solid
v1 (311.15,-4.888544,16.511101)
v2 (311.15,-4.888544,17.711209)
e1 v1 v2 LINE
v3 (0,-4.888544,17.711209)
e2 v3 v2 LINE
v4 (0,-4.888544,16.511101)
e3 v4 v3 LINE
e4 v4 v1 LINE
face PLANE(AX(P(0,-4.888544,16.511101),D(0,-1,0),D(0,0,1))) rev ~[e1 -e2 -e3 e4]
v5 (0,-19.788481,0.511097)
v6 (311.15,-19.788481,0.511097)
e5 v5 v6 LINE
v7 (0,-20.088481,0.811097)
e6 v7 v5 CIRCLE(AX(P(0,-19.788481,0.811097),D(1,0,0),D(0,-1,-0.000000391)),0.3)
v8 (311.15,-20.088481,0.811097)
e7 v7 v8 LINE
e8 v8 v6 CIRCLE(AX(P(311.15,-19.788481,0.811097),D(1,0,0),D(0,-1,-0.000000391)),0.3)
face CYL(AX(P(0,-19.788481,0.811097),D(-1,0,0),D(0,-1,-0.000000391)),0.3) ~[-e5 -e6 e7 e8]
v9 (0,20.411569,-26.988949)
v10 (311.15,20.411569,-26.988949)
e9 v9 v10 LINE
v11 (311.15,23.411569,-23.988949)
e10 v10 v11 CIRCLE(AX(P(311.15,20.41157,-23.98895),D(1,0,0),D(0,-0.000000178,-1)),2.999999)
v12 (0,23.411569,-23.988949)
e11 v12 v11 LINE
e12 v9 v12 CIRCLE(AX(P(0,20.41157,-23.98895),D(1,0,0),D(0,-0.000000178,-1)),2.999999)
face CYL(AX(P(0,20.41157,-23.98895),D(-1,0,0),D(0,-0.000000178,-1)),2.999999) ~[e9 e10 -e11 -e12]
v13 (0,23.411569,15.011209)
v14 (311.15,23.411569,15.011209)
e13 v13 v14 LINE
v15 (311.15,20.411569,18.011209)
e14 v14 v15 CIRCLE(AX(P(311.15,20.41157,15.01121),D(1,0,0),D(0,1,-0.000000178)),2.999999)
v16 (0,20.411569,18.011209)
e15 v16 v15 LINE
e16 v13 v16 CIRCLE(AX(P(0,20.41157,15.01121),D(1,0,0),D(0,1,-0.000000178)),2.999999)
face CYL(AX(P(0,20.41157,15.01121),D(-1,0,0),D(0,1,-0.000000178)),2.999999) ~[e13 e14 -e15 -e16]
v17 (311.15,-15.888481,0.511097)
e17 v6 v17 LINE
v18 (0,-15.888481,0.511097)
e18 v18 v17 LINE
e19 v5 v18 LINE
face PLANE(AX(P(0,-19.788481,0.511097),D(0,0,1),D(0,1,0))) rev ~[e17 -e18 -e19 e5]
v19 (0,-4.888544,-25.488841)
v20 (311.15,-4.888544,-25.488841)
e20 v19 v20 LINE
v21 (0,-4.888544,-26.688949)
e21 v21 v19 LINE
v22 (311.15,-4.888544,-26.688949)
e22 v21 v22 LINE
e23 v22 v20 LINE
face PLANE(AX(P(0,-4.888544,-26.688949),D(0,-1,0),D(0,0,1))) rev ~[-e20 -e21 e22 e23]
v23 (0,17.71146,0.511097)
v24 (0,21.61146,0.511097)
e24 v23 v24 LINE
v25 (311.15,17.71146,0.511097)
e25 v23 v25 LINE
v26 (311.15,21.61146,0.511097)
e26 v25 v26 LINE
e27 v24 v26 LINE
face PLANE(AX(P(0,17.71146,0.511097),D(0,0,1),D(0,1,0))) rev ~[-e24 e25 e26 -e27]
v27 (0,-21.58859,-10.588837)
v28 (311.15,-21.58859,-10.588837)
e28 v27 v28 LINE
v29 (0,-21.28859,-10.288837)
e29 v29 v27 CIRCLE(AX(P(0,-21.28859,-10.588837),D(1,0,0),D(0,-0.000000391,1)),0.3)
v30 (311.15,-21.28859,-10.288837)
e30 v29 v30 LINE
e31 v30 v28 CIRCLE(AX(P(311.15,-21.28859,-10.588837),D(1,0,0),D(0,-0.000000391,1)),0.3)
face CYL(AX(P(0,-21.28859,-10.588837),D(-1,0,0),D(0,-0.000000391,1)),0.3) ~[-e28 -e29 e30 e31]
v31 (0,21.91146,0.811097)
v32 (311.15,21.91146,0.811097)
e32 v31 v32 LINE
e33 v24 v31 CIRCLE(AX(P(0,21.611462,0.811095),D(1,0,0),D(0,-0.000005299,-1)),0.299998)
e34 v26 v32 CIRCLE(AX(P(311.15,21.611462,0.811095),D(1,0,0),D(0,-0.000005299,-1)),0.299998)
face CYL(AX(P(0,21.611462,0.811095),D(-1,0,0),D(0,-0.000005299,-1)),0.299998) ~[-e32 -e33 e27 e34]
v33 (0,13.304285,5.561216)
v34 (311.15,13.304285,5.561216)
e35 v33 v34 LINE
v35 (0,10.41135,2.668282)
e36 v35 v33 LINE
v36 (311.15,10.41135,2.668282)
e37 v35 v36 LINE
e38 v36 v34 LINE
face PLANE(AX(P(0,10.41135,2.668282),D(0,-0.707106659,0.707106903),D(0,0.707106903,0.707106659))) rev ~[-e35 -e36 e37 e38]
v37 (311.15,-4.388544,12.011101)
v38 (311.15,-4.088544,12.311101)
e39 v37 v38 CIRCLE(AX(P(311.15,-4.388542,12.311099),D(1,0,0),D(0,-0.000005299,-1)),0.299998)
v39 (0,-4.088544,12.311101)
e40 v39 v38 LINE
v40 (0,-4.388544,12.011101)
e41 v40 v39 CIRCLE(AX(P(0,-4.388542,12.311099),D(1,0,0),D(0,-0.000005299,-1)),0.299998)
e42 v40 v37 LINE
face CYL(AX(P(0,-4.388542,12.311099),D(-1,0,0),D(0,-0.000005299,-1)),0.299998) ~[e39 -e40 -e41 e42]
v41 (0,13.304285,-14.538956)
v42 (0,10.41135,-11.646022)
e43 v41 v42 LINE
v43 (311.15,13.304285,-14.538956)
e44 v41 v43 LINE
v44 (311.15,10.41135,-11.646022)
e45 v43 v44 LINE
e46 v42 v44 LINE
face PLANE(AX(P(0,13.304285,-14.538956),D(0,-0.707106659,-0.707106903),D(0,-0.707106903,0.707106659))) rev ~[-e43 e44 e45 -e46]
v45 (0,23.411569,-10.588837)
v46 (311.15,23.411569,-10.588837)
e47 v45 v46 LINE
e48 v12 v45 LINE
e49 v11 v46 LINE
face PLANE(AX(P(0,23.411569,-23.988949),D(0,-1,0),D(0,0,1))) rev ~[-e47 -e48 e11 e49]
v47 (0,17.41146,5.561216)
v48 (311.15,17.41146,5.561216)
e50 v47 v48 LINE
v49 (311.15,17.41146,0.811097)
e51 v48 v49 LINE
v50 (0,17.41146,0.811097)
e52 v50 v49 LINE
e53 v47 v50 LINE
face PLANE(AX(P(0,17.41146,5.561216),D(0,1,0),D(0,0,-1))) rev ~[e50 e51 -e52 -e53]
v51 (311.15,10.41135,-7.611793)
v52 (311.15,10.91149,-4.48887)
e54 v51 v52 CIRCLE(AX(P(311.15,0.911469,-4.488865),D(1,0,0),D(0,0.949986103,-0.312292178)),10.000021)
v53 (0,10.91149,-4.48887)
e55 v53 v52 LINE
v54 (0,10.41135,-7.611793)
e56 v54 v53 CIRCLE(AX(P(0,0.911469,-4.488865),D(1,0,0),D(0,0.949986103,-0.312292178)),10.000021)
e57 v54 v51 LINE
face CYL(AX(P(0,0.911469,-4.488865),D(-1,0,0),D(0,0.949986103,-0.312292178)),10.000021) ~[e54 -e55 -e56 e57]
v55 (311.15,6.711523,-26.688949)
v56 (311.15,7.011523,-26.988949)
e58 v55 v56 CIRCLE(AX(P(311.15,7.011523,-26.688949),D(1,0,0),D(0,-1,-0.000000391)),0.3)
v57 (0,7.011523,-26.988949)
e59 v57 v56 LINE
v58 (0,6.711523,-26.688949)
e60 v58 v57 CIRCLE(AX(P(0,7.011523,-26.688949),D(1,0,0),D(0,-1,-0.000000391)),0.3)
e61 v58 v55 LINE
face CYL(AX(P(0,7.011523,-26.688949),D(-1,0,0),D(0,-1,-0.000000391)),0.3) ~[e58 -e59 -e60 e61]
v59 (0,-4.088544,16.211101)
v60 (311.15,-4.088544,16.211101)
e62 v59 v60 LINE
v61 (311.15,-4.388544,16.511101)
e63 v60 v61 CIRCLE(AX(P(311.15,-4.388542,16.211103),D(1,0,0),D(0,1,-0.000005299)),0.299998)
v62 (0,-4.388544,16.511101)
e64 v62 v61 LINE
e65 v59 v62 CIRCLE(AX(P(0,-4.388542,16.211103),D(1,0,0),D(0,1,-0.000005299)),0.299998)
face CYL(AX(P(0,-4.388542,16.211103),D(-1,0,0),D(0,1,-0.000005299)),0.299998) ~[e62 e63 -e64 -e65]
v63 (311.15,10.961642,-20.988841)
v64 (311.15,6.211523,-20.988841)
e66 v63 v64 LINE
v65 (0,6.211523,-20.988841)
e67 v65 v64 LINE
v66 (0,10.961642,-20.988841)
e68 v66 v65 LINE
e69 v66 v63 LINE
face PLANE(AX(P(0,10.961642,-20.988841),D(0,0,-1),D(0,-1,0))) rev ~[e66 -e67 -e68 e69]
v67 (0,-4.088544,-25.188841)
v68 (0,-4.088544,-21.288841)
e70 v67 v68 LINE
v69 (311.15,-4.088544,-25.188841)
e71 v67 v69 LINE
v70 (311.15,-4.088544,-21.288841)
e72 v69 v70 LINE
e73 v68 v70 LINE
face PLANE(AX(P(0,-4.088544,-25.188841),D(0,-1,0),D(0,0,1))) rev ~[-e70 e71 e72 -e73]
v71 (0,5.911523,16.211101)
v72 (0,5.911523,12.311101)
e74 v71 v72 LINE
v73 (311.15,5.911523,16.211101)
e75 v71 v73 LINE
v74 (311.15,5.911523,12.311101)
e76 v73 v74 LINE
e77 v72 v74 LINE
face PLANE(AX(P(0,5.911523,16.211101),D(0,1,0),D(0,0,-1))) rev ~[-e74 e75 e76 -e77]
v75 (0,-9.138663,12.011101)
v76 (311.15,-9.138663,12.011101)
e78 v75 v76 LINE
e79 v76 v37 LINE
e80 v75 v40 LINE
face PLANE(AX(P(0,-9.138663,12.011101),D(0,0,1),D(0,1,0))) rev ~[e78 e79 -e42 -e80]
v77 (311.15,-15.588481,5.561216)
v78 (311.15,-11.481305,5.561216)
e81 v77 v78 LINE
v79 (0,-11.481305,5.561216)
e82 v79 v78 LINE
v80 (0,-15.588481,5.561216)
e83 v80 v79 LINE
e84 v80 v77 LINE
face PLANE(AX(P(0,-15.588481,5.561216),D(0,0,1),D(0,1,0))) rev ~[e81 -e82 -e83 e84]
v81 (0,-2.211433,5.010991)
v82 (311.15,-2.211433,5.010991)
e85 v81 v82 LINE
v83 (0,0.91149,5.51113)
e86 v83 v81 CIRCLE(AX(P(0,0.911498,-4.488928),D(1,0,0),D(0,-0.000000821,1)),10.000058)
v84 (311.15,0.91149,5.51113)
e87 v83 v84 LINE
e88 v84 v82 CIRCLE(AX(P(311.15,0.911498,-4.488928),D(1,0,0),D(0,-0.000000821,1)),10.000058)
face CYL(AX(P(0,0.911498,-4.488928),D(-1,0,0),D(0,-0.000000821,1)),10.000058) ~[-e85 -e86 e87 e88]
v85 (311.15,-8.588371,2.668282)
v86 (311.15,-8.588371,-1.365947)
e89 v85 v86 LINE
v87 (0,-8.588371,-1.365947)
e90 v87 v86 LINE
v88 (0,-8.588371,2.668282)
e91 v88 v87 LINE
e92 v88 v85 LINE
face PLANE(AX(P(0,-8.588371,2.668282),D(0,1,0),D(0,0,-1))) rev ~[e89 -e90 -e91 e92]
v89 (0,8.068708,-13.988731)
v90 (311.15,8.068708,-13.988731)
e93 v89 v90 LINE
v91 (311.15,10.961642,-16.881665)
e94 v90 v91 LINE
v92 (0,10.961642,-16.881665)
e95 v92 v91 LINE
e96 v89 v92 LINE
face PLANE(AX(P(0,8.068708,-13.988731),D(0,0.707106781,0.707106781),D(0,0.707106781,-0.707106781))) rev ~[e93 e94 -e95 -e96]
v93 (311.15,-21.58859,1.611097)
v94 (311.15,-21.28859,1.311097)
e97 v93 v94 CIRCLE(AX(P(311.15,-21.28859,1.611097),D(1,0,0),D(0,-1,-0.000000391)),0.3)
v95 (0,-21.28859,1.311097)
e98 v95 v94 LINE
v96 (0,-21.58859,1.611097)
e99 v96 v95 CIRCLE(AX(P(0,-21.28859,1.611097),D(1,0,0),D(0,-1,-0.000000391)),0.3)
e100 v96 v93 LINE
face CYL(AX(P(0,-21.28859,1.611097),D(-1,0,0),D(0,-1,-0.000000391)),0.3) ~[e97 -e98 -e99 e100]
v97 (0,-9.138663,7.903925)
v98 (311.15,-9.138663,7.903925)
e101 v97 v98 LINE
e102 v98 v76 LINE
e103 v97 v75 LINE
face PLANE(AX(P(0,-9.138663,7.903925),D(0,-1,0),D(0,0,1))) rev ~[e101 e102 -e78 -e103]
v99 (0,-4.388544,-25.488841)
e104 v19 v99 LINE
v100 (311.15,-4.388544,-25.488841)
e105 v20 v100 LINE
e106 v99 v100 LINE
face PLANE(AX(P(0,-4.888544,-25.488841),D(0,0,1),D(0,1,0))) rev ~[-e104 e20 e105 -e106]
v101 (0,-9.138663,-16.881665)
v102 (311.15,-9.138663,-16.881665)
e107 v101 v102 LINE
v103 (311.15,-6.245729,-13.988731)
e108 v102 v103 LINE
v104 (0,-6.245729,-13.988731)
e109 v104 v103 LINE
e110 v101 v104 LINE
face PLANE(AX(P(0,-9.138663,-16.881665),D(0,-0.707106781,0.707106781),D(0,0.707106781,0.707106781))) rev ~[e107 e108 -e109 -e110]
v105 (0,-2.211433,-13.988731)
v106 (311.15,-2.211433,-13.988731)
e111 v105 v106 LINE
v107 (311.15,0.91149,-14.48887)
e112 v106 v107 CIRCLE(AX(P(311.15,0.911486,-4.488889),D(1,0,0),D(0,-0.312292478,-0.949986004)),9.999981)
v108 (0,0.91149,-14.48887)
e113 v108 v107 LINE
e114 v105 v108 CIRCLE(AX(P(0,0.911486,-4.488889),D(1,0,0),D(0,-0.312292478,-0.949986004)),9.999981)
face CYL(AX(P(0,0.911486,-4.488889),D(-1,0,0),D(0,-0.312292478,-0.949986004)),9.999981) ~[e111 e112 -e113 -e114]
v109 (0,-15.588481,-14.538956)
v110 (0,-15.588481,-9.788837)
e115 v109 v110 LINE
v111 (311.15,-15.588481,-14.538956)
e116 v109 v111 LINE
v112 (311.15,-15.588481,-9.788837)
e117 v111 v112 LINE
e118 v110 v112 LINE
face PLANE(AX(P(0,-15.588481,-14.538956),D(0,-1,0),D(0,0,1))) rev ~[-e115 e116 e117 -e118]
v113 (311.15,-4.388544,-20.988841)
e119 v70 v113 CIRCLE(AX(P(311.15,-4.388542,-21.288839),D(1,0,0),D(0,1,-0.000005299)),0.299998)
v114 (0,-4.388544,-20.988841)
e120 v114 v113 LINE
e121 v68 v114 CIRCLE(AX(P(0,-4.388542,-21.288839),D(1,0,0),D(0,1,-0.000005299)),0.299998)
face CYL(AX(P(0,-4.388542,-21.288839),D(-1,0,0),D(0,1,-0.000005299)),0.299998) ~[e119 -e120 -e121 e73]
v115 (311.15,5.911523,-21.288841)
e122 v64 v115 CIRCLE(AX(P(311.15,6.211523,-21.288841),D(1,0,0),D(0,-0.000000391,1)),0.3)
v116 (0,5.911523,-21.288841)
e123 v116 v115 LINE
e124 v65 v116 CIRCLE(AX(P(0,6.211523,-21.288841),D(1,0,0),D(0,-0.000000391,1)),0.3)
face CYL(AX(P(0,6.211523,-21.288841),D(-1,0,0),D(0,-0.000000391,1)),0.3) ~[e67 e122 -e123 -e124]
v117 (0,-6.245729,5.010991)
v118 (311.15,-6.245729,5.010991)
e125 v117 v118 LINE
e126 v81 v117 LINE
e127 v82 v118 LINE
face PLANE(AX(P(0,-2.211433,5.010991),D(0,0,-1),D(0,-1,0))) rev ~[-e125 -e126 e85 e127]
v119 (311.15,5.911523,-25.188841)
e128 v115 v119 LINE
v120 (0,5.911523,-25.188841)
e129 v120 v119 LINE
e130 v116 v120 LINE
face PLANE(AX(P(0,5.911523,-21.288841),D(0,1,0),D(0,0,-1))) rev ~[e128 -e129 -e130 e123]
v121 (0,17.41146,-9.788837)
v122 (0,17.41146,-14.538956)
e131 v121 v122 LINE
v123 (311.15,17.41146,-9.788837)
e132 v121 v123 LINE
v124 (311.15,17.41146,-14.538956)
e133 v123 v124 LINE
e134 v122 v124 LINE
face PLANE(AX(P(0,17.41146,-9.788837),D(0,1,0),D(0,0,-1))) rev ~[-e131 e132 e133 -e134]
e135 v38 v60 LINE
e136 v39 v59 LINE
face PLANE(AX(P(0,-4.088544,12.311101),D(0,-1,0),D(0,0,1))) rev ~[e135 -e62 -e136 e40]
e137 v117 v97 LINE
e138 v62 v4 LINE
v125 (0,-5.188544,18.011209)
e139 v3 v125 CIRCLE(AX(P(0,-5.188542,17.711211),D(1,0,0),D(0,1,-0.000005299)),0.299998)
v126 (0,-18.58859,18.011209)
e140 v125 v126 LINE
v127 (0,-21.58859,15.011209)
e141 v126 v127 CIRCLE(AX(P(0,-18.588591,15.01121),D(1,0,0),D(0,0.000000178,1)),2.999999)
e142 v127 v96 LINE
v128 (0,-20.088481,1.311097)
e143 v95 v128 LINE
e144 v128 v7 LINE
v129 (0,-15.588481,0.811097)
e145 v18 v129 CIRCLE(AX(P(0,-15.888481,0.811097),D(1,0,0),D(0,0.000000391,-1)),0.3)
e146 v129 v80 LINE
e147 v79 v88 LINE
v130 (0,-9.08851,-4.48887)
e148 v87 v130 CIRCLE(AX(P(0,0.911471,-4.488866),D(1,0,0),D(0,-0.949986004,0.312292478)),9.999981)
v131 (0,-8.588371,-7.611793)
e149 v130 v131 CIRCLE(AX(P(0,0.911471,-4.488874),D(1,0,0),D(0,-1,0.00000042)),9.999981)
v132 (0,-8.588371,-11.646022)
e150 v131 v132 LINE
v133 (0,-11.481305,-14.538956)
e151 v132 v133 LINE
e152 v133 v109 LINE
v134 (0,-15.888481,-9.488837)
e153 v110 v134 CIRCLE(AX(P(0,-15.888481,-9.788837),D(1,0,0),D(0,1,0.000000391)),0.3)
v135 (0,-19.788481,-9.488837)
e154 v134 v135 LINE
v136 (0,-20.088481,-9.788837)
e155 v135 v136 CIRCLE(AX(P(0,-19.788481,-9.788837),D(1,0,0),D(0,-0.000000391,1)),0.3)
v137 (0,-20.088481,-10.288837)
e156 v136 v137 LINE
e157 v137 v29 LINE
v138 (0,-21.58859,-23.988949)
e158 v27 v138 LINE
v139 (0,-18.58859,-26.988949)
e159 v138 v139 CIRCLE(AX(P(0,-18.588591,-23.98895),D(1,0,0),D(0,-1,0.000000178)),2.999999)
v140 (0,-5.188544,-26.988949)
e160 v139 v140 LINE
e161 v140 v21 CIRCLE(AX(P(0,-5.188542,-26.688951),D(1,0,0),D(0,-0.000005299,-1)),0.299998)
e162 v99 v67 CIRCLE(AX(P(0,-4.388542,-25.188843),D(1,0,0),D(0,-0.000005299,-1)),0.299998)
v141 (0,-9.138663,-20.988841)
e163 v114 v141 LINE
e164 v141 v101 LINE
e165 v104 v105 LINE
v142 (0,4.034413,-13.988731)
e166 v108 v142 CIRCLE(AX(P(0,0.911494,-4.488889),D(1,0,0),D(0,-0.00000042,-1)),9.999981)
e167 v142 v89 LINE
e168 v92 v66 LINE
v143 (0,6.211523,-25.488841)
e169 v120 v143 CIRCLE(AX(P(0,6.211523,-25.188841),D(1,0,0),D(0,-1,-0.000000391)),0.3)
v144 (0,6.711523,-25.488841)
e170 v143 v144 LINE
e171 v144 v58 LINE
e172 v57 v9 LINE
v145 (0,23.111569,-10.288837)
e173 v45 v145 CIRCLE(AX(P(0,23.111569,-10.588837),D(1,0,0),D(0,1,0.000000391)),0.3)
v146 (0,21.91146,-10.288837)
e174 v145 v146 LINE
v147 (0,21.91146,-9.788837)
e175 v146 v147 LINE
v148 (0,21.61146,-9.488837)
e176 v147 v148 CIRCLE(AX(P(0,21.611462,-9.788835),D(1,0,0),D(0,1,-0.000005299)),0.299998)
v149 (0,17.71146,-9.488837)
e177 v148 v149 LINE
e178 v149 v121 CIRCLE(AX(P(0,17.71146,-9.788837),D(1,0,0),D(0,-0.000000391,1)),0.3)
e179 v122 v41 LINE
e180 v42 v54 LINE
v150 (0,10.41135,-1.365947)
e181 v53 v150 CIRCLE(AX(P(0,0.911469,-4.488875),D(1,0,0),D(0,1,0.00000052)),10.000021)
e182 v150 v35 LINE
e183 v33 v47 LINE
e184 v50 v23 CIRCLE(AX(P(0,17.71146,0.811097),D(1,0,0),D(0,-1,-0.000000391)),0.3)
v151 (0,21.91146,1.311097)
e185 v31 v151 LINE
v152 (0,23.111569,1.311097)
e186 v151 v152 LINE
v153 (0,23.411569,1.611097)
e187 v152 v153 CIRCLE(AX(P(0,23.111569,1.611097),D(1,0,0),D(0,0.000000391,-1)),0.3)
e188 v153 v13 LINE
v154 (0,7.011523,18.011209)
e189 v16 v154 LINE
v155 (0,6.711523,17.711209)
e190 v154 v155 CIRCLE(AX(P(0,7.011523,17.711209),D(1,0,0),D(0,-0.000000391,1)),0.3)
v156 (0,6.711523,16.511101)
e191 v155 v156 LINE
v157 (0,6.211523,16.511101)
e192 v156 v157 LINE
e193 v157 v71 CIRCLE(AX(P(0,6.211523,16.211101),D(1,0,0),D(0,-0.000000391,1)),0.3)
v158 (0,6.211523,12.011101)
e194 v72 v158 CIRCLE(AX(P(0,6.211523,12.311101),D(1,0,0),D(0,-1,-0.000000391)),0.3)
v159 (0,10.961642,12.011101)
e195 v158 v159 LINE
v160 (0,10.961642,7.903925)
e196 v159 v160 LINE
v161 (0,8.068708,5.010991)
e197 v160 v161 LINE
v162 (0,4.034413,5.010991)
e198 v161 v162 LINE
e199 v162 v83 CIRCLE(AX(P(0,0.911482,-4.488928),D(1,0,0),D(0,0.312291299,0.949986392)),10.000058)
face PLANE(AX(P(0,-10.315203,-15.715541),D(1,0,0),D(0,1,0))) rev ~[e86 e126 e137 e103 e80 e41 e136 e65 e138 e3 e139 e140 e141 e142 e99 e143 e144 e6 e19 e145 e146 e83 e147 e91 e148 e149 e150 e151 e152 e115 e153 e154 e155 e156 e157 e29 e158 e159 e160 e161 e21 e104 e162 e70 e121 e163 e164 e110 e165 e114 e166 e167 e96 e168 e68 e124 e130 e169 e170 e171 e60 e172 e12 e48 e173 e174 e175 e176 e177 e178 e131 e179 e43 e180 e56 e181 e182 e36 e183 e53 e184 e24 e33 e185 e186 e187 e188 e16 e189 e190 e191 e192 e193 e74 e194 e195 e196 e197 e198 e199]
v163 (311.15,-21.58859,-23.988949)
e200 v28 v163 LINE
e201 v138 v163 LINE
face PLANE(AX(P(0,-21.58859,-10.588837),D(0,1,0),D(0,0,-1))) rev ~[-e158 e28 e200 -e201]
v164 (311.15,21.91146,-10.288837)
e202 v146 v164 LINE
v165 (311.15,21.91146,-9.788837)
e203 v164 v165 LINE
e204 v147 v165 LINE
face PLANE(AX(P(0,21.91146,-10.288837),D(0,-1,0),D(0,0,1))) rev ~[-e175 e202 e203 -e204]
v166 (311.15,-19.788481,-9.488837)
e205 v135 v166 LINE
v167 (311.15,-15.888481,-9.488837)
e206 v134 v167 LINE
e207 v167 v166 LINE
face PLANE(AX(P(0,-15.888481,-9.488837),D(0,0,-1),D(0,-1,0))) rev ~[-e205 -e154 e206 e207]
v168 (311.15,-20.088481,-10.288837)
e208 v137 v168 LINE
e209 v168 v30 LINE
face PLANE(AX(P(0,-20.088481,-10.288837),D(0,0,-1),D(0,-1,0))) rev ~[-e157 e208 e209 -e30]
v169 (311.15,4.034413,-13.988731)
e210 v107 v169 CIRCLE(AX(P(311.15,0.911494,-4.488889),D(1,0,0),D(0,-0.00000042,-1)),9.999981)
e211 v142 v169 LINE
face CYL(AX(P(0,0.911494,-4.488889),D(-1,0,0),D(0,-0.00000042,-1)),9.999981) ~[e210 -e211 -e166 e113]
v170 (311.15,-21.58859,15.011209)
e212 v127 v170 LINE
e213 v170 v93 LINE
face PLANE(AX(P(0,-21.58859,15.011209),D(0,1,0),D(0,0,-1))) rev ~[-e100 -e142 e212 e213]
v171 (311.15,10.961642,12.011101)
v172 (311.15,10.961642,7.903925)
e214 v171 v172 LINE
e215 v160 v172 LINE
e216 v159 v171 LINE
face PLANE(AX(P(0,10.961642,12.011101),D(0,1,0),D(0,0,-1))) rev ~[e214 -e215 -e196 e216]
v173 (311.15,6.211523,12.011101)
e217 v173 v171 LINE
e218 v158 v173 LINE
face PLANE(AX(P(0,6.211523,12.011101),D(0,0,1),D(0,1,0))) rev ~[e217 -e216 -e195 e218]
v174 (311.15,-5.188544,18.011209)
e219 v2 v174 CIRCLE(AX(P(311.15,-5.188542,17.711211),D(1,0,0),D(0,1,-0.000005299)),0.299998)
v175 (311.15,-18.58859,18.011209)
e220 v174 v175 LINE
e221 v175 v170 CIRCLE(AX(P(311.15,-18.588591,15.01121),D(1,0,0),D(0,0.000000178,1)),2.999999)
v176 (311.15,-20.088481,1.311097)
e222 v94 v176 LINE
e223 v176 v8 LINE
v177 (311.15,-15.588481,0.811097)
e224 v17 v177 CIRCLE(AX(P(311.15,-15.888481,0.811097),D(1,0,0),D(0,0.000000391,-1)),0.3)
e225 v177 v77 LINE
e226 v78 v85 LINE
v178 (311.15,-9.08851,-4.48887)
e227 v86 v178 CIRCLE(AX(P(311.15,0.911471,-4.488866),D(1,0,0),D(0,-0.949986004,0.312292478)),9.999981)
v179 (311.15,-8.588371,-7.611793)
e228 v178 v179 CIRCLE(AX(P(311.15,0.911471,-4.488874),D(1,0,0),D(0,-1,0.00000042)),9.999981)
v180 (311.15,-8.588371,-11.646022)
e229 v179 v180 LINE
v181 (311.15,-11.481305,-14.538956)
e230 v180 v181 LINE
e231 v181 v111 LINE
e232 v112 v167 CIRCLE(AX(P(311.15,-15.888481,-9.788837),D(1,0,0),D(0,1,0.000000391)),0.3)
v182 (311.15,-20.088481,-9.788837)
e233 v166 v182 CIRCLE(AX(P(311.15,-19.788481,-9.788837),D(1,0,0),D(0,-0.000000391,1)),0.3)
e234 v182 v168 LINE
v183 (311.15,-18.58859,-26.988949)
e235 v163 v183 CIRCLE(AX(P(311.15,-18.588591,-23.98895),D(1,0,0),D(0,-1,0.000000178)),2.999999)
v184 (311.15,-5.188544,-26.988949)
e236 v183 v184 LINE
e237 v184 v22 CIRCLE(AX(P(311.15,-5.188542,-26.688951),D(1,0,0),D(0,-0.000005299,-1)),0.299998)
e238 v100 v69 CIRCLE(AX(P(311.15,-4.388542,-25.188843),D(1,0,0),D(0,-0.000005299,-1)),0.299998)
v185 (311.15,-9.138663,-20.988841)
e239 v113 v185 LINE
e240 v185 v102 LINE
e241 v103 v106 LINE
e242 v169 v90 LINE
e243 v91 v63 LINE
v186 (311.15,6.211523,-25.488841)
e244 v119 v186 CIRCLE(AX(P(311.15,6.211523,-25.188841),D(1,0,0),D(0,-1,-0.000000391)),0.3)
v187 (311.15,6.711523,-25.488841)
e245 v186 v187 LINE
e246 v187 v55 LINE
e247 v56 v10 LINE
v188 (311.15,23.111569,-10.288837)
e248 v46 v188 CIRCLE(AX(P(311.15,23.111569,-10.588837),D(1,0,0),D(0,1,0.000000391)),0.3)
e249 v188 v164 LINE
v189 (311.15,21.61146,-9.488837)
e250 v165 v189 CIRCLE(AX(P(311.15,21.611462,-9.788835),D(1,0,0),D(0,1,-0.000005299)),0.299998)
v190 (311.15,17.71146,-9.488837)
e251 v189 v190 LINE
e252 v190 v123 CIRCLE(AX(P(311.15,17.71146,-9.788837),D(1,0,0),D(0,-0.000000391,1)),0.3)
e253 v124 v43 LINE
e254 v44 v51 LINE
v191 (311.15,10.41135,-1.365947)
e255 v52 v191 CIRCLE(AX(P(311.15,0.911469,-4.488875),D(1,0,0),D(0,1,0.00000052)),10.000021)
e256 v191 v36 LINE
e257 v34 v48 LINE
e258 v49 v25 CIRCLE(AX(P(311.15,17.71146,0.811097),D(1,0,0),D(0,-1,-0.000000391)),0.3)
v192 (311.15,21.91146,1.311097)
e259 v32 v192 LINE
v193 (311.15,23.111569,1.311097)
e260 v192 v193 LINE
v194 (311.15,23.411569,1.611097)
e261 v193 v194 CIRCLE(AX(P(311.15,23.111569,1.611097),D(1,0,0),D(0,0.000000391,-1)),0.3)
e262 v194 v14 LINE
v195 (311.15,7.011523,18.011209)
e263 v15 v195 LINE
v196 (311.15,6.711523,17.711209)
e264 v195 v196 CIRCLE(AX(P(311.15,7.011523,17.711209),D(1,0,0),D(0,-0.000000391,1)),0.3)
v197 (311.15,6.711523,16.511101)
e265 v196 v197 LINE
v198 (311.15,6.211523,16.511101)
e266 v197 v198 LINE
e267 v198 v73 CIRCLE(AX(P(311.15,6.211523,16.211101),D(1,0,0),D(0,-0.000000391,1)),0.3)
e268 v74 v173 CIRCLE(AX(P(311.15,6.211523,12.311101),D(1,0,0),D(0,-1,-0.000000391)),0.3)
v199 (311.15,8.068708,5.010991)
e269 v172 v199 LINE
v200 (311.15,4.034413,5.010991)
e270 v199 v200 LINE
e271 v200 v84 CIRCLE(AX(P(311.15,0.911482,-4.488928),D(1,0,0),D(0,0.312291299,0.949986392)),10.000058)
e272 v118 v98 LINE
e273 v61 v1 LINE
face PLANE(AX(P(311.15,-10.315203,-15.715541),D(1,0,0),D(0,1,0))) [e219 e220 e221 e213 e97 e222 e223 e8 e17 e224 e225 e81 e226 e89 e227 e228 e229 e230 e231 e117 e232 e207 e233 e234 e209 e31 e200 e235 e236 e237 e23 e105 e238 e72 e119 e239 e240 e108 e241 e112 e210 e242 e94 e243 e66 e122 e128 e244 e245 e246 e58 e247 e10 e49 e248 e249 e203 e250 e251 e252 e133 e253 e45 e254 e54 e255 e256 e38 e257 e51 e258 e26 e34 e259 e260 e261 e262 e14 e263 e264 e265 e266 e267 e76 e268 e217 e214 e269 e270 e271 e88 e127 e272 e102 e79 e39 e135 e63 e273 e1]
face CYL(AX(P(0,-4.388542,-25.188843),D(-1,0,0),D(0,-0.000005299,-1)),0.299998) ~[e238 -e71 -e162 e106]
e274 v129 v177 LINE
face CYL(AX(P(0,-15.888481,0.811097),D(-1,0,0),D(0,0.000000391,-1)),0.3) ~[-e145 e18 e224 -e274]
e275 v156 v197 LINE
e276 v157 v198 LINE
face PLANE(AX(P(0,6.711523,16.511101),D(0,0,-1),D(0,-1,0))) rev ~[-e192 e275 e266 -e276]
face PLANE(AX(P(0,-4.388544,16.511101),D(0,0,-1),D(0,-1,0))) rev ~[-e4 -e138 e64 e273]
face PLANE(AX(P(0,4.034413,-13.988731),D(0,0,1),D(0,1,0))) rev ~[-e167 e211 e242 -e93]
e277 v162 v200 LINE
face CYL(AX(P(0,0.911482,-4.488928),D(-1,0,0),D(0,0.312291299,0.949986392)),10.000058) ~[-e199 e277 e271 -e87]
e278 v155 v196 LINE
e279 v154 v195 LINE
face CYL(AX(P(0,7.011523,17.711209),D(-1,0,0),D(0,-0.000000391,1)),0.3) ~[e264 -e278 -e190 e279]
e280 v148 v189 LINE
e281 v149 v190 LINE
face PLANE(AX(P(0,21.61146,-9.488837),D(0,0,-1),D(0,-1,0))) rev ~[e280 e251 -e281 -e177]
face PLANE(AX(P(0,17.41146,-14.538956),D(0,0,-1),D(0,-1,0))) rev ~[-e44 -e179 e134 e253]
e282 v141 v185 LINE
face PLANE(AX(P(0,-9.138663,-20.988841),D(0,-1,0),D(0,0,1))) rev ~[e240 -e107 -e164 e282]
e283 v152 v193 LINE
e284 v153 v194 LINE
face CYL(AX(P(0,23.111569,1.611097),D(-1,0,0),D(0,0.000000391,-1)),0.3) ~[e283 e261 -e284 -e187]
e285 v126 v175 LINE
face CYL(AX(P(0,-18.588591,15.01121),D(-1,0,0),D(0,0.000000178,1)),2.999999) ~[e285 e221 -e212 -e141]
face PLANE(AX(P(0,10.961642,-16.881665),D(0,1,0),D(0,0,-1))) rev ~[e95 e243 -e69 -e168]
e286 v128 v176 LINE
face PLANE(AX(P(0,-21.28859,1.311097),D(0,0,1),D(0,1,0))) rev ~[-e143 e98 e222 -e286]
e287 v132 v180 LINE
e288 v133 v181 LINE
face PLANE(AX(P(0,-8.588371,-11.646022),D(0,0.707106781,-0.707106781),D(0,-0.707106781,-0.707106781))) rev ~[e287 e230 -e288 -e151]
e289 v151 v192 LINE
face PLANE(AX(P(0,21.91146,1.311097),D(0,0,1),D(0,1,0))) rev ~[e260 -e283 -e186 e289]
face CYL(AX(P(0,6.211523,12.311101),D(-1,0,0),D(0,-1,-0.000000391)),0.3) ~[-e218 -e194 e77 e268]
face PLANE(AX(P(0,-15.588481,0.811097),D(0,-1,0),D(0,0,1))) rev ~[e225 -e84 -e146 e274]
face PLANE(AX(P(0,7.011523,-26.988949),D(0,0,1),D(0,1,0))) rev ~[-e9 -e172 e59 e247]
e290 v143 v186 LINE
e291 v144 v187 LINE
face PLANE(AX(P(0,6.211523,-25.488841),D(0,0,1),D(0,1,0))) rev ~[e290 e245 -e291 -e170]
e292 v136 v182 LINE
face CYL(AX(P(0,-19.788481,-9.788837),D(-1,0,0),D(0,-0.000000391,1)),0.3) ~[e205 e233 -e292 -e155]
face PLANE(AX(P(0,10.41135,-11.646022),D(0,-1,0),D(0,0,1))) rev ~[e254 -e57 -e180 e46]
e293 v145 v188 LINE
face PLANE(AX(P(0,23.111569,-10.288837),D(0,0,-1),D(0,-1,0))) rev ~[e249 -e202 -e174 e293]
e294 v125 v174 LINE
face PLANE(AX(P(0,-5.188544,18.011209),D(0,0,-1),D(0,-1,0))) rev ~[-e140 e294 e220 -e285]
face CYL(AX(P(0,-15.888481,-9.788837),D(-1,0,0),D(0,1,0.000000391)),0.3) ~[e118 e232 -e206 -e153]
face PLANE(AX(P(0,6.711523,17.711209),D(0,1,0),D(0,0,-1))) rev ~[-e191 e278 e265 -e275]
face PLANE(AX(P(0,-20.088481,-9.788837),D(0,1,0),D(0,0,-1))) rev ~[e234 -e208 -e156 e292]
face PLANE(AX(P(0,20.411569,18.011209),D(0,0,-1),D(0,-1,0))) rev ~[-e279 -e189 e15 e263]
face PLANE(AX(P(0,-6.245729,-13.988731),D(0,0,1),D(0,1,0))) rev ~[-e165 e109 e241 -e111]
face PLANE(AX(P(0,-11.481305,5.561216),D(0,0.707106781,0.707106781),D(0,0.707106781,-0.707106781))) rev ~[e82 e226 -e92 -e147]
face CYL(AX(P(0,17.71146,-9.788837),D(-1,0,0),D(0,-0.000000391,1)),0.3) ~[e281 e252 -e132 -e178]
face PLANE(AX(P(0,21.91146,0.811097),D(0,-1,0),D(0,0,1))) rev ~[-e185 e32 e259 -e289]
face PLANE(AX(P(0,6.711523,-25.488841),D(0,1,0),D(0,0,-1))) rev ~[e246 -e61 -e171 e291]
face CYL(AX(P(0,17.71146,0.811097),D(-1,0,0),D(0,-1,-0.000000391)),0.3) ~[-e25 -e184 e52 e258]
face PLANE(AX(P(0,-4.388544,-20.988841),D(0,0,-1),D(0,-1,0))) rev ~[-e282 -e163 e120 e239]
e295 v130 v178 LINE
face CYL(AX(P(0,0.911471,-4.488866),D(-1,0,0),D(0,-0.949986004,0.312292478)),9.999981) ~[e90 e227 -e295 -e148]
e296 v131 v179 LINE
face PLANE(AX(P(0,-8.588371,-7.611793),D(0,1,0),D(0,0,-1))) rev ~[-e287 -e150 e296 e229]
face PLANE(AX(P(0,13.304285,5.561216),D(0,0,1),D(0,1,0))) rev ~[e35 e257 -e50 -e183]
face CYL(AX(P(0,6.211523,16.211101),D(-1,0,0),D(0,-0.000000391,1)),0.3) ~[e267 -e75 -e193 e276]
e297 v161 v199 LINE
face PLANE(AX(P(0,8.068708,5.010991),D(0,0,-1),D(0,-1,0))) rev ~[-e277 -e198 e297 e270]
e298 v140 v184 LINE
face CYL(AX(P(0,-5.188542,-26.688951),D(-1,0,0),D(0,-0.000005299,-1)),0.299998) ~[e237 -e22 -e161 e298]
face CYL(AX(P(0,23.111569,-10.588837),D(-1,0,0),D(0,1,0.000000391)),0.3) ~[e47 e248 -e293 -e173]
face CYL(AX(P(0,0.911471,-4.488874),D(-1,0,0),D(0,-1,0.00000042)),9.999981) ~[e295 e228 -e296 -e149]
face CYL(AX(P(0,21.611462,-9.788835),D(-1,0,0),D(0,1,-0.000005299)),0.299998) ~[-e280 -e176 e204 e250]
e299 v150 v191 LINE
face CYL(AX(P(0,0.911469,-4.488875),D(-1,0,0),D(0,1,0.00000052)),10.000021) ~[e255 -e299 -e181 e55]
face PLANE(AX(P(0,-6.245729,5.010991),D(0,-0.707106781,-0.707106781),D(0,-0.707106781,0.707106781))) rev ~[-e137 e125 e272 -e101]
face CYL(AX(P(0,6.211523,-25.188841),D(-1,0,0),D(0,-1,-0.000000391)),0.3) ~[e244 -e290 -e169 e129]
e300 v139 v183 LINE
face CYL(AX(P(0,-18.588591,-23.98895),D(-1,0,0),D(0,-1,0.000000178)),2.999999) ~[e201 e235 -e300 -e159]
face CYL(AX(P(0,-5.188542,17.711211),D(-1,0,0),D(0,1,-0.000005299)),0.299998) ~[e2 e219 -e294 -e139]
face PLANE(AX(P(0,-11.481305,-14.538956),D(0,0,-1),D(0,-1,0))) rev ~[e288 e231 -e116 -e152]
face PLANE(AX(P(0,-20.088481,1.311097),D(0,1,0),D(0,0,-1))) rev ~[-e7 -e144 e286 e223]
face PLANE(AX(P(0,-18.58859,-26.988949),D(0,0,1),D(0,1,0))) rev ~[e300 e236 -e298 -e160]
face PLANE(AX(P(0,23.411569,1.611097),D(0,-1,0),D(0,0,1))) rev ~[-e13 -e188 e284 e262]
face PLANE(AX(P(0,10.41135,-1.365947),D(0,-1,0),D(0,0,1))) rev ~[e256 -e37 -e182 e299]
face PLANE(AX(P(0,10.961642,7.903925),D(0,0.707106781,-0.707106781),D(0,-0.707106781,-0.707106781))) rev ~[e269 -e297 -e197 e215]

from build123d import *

# Parameters (mm, degrees)
F1_DEPTH = 311.15


with BuildPart() as f1:
    # F0 (on Right) → F1 (new body)
    with BuildSketch(Plane.YZ):
        with BuildLine():
            Line((-20.088481, -9.788837), (-20.088481, -10.288837))
            Line((-20.088481, -10.288837), (-21.28859, -10.288837))
            ThreePointArc((-21.28859, -10.288837), (-21.500722, -10.376705), (-21.58859, -10.588837))
            Line((-21.58859, -10.588837), (-21.58859, -23.988949))
            ThreePointArc((-21.58859, -23.988949), (-20.70991, -26.11027), (-18.58859, -26.988949))
            Line((-18.58859, -26.988949), (-5.188544, -26.988949))
            ThreePointArc((-5.188544, -26.988949), (-4.976411, -26.901081), (-4.888544, -26.688949))
            Line((-4.888544, -26.688949), (-4.888544, -25.488841))
            Line((-4.888544, -25.488841), (-4.388544, -25.488841))
            ThreePointArc((-4.388544, -25.488841), (-4.176411, -25.400973), (-4.088544, -25.188841))
            Line((-4.088544, -25.188841), (-4.088544, -21.288841))
            ThreePointArc((-4.088544, -21.288841), (-4.176411, -21.076709), (-4.388544, -20.988841))
            Line((-4.388544, -20.988841), (-9.138663, -20.988841))
            Line((-9.138663, -20.988841), (-9.138663, -16.881665))
            Line((-9.138663, -16.881665), (-6.245729, -13.988731))
            Line((-6.245729, -13.988731), (-2.211433, -13.988731))
            ThreePointArc((-2.211433, -13.988731), (-0.669869, -14.363044), (0.91149, -14.48887))
            Line((0.91149, -14.48887), (0.91149, -4.48887))
            Line((0.91149, -4.48887), (-9.08851, -4.48887))
            ThreePointArc((-9.08851, -4.48887), (-8.962684, -6.070229), (-8.588371, -7.611793))
            Line((-8.588371, -7.611793), (-8.588371, -11.646022))
            Line((-8.588371, -11.646022), (-11.481305, -14.538956))
            Line((-11.481305, -14.538956), (-15.588481, -14.538956))
            Line((-15.588481, -14.538956), (-15.588481, -9.788837))
            ThreePointArc((-15.588481, -9.788837), (-15.676349, -9.576705), (-15.888481, -9.488837))
            Line((-15.888481, -9.488837), (-19.788481, -9.488837))
            ThreePointArc((-19.788481, -9.488837), (-20.000613, -9.576705), (-20.088481, -9.788837))
        make_face()
        with BuildLine():
            ThreePointArc((-8.588371, -1.365947), (-8.962684, -2.907511), (-9.08851, -4.48887))
            Line((-9.08851, -4.48887), (0.91149, -4.48887))
            Line((0.91149, -4.48887), (0.91149, 5.51113))
            ThreePointArc((0.91149, 5.51113), (-0.669869, 5.385303), (-2.211433, 5.010991))
            Line((-2.211433, 5.010991), (-6.245729, 5.010991))
            Line((-6.245729, 5.010991), (-9.138663, 7.903925))
            Line((-9.138663, 7.903925), (-9.138663, 12.011101))
            Line((-9.138663, 12.011101), (-4.388544, 12.011101))
            ThreePointArc((-4.388544, 12.011101), (-4.176411, 12.098969), (-4.088544, 12.311101))
            Line((-4.088544, 12.311101), (-4.088544, 16.211101))
            ThreePointArc((-4.088544, 16.211101), (-4.176411, 16.423233), (-4.388544, 16.511101))
            Line((-4.388544, 16.511101), (-4.888544, 16.511101))
            Line((-4.888544, 16.511101), (-4.888544, 17.711209))
            ThreePointArc((-4.888544, 17.711209), (-4.976411, 17.923341), (-5.188544, 18.011209))
            Line((-5.188544, 18.011209), (-18.58859, 18.011209))
            ThreePointArc((-18.58859, 18.011209), (-20.70991, 17.13253), (-21.58859, 15.011209))
            Line((-21.58859, 15.011209), (-21.58859, 1.611097))
            ThreePointArc((-21.58859, 1.611097), (-21.500722, 1.398965), (-21.28859, 1.311097))
            Line((-21.28859, 1.311097), (-20.088481, 1.311097))
            Line((-20.088481, 1.311097), (-20.088481, 0.811097))
            ThreePointArc((-20.088481, 0.811097), (-20.000613, 0.598965), (-19.788481, 0.511097))
            Line((-19.788481, 0.511097), (-15.888481, 0.511097))
            ThreePointArc((-15.888481, 0.511097), (-15.676349, 0.598965), (-15.588481, 0.811097))
            Line((-15.588481, 0.811097), (-15.588481, 5.561216))
            Line((-15.588481, 5.561216), (-11.481305, 5.561216))
            Line((-11.481305, 5.561216), (-8.588371, 2.668282))
            Line((-8.588371, 2.668282), (-8.588371, -1.365947))
        make_face()
        with BuildLine():
            Line((0.91149, 5.51113), (0.91149, -4.48887))
            Line((0.91149, -4.48887), (10.91149, -4.48887))
            ThreePointArc((10.91149, -4.48887), (10.785663, -2.907511), (10.41135, -1.365947))
            Line((10.41135, -1.365947), (10.41135, 2.668282))
            Line((10.41135, 2.668282), (13.304285, 5.561216))
            Line((13.304285, 5.561216), (14.016842, 5.561216))
            Line((14.016842, 5.561216), (17.41146, 5.561216))
            Line((17.41146, 5.561216), (17.41146, 0.811097))
            ThreePointArc((17.41146, 0.811097), (17.499328, 0.598965), (17.71146, 0.511097))
            Line((17.71146, 0.511097), (21.61146, 0.511097))
            ThreePointArc((21.61146, 0.511097), (21.823593, 0.598965), (21.91146, 0.811097))
            Line((21.91146, 0.811097), (21.91146, 1.311097))
            Line((21.91146, 1.311097), (23.111569, 1.311097))
            ThreePointArc((23.111569, 1.311097), (23.323701, 1.398965), (23.411569, 1.611097))
            Line((23.411569, 1.611097), (23.411569, 15.011209))
            ThreePointArc((23.411569, 15.011209), (22.532889, 17.13253), (20.411569, 18.011209))
            Line((20.411569, 18.011209), (7.011523, 18.011209))
            ThreePointArc((7.011523, 18.011209), (6.799391, 17.923341), (6.711523, 17.711209))
            Line((6.711523, 17.711209), (6.711523, 16.511101))
            Line((6.711523, 16.511101), (6.211523, 16.511101))
            ThreePointArc((6.211523, 16.511101), (5.999391, 16.423233), (5.911523, 16.211101))
            Line((5.911523, 16.211101), (5.911523, 12.311101))
            ThreePointArc((5.911523, 12.311101), (5.999391, 12.098969), (6.211523, 12.011101))
            Line((6.211523, 12.011101), (10.961642, 12.011101))
            Line((10.961642, 12.011101), (10.961642, 7.903925))
            Line((10.961642, 7.903925), (8.068708, 5.010991))
            Line((8.068708, 5.010991), (4.034413, 5.010991))
            ThreePointArc((4.034413, 5.010991), (2.492849, 5.385303), (0.91149, 5.51113))
        make_face()
        with BuildLine():
            Line((10.91149, -4.48887), (0.91149, -4.48887))
            Line((0.91149, -4.48887), (0.91149, -14.48887))
            ThreePointArc((0.91149, -14.48887), (2.492849, -14.363044), (4.034413, -13.988731))
            Line((4.034413, -13.988731), (8.068708, -13.988731))
            Line((8.068708, -13.988731), (10.961642, -16.881665))
            Line((10.961642, -16.881665), (10.961642, -20.988841))
            Line((10.961642, -20.988841), (6.211523, -20.988841))
            ThreePointArc((6.211523, -20.988841), (5.999391, -21.076709), (5.911523, -21.288841))
            Line((5.911523, -21.288841), (5.911523, -25.188841))
            ThreePointArc((5.911523, -25.188841), (5.999391, -25.400973), (6.211523, -25.488841))
            Line((6.211523, -25.488841), (6.711523, -25.488841))
            Line((6.711523, -25.488841), (6.711523, -26.688949))
            ThreePointArc((6.711523, -26.688949), (6.799391, -26.901081), (7.011523, -26.988949))
            Line((7.011523, -26.988949), (20.411569, -26.988949))
            ThreePointArc((20.411569, -26.988949), (22.532889, -26.11027), (23.411569, -23.988949))
            Line((23.411569, -23.988949), (23.411569, -10.588837))
            ThreePointArc((23.411569, -10.588837), (23.323701, -10.376705), (23.111569, -10.288837))
            Line((23.111569, -10.288837), (21.91146, -10.288837))
            Line((21.91146, -10.288837), (21.91146, -9.788837))
            ThreePointArc((21.91146, -9.788837), (21.823593, -9.576705), (21.61146, -9.488837))
            Line((21.61146, -9.488837), (17.71146, -9.488837))
            ThreePointArc((17.71146, -9.488837), (17.499328, -9.576705), (17.41146, -9.788837))
            Line((17.41146, -9.788837), (17.41146, -14.538956))
            Line((17.41146, -14.538956), (13.304285, -14.538956))
            Line((13.304285, -14.538956), (10.41135, -11.646022))
            Line((10.41135, -11.646022), (10.41135, -7.611793))
            ThreePointArc((10.41135, -7.611793), (10.785663, -6.070229), (10.91149, -4.48887))
        make_face()
    extrude(amount=F1_DEPTH)


solid = f1.part
